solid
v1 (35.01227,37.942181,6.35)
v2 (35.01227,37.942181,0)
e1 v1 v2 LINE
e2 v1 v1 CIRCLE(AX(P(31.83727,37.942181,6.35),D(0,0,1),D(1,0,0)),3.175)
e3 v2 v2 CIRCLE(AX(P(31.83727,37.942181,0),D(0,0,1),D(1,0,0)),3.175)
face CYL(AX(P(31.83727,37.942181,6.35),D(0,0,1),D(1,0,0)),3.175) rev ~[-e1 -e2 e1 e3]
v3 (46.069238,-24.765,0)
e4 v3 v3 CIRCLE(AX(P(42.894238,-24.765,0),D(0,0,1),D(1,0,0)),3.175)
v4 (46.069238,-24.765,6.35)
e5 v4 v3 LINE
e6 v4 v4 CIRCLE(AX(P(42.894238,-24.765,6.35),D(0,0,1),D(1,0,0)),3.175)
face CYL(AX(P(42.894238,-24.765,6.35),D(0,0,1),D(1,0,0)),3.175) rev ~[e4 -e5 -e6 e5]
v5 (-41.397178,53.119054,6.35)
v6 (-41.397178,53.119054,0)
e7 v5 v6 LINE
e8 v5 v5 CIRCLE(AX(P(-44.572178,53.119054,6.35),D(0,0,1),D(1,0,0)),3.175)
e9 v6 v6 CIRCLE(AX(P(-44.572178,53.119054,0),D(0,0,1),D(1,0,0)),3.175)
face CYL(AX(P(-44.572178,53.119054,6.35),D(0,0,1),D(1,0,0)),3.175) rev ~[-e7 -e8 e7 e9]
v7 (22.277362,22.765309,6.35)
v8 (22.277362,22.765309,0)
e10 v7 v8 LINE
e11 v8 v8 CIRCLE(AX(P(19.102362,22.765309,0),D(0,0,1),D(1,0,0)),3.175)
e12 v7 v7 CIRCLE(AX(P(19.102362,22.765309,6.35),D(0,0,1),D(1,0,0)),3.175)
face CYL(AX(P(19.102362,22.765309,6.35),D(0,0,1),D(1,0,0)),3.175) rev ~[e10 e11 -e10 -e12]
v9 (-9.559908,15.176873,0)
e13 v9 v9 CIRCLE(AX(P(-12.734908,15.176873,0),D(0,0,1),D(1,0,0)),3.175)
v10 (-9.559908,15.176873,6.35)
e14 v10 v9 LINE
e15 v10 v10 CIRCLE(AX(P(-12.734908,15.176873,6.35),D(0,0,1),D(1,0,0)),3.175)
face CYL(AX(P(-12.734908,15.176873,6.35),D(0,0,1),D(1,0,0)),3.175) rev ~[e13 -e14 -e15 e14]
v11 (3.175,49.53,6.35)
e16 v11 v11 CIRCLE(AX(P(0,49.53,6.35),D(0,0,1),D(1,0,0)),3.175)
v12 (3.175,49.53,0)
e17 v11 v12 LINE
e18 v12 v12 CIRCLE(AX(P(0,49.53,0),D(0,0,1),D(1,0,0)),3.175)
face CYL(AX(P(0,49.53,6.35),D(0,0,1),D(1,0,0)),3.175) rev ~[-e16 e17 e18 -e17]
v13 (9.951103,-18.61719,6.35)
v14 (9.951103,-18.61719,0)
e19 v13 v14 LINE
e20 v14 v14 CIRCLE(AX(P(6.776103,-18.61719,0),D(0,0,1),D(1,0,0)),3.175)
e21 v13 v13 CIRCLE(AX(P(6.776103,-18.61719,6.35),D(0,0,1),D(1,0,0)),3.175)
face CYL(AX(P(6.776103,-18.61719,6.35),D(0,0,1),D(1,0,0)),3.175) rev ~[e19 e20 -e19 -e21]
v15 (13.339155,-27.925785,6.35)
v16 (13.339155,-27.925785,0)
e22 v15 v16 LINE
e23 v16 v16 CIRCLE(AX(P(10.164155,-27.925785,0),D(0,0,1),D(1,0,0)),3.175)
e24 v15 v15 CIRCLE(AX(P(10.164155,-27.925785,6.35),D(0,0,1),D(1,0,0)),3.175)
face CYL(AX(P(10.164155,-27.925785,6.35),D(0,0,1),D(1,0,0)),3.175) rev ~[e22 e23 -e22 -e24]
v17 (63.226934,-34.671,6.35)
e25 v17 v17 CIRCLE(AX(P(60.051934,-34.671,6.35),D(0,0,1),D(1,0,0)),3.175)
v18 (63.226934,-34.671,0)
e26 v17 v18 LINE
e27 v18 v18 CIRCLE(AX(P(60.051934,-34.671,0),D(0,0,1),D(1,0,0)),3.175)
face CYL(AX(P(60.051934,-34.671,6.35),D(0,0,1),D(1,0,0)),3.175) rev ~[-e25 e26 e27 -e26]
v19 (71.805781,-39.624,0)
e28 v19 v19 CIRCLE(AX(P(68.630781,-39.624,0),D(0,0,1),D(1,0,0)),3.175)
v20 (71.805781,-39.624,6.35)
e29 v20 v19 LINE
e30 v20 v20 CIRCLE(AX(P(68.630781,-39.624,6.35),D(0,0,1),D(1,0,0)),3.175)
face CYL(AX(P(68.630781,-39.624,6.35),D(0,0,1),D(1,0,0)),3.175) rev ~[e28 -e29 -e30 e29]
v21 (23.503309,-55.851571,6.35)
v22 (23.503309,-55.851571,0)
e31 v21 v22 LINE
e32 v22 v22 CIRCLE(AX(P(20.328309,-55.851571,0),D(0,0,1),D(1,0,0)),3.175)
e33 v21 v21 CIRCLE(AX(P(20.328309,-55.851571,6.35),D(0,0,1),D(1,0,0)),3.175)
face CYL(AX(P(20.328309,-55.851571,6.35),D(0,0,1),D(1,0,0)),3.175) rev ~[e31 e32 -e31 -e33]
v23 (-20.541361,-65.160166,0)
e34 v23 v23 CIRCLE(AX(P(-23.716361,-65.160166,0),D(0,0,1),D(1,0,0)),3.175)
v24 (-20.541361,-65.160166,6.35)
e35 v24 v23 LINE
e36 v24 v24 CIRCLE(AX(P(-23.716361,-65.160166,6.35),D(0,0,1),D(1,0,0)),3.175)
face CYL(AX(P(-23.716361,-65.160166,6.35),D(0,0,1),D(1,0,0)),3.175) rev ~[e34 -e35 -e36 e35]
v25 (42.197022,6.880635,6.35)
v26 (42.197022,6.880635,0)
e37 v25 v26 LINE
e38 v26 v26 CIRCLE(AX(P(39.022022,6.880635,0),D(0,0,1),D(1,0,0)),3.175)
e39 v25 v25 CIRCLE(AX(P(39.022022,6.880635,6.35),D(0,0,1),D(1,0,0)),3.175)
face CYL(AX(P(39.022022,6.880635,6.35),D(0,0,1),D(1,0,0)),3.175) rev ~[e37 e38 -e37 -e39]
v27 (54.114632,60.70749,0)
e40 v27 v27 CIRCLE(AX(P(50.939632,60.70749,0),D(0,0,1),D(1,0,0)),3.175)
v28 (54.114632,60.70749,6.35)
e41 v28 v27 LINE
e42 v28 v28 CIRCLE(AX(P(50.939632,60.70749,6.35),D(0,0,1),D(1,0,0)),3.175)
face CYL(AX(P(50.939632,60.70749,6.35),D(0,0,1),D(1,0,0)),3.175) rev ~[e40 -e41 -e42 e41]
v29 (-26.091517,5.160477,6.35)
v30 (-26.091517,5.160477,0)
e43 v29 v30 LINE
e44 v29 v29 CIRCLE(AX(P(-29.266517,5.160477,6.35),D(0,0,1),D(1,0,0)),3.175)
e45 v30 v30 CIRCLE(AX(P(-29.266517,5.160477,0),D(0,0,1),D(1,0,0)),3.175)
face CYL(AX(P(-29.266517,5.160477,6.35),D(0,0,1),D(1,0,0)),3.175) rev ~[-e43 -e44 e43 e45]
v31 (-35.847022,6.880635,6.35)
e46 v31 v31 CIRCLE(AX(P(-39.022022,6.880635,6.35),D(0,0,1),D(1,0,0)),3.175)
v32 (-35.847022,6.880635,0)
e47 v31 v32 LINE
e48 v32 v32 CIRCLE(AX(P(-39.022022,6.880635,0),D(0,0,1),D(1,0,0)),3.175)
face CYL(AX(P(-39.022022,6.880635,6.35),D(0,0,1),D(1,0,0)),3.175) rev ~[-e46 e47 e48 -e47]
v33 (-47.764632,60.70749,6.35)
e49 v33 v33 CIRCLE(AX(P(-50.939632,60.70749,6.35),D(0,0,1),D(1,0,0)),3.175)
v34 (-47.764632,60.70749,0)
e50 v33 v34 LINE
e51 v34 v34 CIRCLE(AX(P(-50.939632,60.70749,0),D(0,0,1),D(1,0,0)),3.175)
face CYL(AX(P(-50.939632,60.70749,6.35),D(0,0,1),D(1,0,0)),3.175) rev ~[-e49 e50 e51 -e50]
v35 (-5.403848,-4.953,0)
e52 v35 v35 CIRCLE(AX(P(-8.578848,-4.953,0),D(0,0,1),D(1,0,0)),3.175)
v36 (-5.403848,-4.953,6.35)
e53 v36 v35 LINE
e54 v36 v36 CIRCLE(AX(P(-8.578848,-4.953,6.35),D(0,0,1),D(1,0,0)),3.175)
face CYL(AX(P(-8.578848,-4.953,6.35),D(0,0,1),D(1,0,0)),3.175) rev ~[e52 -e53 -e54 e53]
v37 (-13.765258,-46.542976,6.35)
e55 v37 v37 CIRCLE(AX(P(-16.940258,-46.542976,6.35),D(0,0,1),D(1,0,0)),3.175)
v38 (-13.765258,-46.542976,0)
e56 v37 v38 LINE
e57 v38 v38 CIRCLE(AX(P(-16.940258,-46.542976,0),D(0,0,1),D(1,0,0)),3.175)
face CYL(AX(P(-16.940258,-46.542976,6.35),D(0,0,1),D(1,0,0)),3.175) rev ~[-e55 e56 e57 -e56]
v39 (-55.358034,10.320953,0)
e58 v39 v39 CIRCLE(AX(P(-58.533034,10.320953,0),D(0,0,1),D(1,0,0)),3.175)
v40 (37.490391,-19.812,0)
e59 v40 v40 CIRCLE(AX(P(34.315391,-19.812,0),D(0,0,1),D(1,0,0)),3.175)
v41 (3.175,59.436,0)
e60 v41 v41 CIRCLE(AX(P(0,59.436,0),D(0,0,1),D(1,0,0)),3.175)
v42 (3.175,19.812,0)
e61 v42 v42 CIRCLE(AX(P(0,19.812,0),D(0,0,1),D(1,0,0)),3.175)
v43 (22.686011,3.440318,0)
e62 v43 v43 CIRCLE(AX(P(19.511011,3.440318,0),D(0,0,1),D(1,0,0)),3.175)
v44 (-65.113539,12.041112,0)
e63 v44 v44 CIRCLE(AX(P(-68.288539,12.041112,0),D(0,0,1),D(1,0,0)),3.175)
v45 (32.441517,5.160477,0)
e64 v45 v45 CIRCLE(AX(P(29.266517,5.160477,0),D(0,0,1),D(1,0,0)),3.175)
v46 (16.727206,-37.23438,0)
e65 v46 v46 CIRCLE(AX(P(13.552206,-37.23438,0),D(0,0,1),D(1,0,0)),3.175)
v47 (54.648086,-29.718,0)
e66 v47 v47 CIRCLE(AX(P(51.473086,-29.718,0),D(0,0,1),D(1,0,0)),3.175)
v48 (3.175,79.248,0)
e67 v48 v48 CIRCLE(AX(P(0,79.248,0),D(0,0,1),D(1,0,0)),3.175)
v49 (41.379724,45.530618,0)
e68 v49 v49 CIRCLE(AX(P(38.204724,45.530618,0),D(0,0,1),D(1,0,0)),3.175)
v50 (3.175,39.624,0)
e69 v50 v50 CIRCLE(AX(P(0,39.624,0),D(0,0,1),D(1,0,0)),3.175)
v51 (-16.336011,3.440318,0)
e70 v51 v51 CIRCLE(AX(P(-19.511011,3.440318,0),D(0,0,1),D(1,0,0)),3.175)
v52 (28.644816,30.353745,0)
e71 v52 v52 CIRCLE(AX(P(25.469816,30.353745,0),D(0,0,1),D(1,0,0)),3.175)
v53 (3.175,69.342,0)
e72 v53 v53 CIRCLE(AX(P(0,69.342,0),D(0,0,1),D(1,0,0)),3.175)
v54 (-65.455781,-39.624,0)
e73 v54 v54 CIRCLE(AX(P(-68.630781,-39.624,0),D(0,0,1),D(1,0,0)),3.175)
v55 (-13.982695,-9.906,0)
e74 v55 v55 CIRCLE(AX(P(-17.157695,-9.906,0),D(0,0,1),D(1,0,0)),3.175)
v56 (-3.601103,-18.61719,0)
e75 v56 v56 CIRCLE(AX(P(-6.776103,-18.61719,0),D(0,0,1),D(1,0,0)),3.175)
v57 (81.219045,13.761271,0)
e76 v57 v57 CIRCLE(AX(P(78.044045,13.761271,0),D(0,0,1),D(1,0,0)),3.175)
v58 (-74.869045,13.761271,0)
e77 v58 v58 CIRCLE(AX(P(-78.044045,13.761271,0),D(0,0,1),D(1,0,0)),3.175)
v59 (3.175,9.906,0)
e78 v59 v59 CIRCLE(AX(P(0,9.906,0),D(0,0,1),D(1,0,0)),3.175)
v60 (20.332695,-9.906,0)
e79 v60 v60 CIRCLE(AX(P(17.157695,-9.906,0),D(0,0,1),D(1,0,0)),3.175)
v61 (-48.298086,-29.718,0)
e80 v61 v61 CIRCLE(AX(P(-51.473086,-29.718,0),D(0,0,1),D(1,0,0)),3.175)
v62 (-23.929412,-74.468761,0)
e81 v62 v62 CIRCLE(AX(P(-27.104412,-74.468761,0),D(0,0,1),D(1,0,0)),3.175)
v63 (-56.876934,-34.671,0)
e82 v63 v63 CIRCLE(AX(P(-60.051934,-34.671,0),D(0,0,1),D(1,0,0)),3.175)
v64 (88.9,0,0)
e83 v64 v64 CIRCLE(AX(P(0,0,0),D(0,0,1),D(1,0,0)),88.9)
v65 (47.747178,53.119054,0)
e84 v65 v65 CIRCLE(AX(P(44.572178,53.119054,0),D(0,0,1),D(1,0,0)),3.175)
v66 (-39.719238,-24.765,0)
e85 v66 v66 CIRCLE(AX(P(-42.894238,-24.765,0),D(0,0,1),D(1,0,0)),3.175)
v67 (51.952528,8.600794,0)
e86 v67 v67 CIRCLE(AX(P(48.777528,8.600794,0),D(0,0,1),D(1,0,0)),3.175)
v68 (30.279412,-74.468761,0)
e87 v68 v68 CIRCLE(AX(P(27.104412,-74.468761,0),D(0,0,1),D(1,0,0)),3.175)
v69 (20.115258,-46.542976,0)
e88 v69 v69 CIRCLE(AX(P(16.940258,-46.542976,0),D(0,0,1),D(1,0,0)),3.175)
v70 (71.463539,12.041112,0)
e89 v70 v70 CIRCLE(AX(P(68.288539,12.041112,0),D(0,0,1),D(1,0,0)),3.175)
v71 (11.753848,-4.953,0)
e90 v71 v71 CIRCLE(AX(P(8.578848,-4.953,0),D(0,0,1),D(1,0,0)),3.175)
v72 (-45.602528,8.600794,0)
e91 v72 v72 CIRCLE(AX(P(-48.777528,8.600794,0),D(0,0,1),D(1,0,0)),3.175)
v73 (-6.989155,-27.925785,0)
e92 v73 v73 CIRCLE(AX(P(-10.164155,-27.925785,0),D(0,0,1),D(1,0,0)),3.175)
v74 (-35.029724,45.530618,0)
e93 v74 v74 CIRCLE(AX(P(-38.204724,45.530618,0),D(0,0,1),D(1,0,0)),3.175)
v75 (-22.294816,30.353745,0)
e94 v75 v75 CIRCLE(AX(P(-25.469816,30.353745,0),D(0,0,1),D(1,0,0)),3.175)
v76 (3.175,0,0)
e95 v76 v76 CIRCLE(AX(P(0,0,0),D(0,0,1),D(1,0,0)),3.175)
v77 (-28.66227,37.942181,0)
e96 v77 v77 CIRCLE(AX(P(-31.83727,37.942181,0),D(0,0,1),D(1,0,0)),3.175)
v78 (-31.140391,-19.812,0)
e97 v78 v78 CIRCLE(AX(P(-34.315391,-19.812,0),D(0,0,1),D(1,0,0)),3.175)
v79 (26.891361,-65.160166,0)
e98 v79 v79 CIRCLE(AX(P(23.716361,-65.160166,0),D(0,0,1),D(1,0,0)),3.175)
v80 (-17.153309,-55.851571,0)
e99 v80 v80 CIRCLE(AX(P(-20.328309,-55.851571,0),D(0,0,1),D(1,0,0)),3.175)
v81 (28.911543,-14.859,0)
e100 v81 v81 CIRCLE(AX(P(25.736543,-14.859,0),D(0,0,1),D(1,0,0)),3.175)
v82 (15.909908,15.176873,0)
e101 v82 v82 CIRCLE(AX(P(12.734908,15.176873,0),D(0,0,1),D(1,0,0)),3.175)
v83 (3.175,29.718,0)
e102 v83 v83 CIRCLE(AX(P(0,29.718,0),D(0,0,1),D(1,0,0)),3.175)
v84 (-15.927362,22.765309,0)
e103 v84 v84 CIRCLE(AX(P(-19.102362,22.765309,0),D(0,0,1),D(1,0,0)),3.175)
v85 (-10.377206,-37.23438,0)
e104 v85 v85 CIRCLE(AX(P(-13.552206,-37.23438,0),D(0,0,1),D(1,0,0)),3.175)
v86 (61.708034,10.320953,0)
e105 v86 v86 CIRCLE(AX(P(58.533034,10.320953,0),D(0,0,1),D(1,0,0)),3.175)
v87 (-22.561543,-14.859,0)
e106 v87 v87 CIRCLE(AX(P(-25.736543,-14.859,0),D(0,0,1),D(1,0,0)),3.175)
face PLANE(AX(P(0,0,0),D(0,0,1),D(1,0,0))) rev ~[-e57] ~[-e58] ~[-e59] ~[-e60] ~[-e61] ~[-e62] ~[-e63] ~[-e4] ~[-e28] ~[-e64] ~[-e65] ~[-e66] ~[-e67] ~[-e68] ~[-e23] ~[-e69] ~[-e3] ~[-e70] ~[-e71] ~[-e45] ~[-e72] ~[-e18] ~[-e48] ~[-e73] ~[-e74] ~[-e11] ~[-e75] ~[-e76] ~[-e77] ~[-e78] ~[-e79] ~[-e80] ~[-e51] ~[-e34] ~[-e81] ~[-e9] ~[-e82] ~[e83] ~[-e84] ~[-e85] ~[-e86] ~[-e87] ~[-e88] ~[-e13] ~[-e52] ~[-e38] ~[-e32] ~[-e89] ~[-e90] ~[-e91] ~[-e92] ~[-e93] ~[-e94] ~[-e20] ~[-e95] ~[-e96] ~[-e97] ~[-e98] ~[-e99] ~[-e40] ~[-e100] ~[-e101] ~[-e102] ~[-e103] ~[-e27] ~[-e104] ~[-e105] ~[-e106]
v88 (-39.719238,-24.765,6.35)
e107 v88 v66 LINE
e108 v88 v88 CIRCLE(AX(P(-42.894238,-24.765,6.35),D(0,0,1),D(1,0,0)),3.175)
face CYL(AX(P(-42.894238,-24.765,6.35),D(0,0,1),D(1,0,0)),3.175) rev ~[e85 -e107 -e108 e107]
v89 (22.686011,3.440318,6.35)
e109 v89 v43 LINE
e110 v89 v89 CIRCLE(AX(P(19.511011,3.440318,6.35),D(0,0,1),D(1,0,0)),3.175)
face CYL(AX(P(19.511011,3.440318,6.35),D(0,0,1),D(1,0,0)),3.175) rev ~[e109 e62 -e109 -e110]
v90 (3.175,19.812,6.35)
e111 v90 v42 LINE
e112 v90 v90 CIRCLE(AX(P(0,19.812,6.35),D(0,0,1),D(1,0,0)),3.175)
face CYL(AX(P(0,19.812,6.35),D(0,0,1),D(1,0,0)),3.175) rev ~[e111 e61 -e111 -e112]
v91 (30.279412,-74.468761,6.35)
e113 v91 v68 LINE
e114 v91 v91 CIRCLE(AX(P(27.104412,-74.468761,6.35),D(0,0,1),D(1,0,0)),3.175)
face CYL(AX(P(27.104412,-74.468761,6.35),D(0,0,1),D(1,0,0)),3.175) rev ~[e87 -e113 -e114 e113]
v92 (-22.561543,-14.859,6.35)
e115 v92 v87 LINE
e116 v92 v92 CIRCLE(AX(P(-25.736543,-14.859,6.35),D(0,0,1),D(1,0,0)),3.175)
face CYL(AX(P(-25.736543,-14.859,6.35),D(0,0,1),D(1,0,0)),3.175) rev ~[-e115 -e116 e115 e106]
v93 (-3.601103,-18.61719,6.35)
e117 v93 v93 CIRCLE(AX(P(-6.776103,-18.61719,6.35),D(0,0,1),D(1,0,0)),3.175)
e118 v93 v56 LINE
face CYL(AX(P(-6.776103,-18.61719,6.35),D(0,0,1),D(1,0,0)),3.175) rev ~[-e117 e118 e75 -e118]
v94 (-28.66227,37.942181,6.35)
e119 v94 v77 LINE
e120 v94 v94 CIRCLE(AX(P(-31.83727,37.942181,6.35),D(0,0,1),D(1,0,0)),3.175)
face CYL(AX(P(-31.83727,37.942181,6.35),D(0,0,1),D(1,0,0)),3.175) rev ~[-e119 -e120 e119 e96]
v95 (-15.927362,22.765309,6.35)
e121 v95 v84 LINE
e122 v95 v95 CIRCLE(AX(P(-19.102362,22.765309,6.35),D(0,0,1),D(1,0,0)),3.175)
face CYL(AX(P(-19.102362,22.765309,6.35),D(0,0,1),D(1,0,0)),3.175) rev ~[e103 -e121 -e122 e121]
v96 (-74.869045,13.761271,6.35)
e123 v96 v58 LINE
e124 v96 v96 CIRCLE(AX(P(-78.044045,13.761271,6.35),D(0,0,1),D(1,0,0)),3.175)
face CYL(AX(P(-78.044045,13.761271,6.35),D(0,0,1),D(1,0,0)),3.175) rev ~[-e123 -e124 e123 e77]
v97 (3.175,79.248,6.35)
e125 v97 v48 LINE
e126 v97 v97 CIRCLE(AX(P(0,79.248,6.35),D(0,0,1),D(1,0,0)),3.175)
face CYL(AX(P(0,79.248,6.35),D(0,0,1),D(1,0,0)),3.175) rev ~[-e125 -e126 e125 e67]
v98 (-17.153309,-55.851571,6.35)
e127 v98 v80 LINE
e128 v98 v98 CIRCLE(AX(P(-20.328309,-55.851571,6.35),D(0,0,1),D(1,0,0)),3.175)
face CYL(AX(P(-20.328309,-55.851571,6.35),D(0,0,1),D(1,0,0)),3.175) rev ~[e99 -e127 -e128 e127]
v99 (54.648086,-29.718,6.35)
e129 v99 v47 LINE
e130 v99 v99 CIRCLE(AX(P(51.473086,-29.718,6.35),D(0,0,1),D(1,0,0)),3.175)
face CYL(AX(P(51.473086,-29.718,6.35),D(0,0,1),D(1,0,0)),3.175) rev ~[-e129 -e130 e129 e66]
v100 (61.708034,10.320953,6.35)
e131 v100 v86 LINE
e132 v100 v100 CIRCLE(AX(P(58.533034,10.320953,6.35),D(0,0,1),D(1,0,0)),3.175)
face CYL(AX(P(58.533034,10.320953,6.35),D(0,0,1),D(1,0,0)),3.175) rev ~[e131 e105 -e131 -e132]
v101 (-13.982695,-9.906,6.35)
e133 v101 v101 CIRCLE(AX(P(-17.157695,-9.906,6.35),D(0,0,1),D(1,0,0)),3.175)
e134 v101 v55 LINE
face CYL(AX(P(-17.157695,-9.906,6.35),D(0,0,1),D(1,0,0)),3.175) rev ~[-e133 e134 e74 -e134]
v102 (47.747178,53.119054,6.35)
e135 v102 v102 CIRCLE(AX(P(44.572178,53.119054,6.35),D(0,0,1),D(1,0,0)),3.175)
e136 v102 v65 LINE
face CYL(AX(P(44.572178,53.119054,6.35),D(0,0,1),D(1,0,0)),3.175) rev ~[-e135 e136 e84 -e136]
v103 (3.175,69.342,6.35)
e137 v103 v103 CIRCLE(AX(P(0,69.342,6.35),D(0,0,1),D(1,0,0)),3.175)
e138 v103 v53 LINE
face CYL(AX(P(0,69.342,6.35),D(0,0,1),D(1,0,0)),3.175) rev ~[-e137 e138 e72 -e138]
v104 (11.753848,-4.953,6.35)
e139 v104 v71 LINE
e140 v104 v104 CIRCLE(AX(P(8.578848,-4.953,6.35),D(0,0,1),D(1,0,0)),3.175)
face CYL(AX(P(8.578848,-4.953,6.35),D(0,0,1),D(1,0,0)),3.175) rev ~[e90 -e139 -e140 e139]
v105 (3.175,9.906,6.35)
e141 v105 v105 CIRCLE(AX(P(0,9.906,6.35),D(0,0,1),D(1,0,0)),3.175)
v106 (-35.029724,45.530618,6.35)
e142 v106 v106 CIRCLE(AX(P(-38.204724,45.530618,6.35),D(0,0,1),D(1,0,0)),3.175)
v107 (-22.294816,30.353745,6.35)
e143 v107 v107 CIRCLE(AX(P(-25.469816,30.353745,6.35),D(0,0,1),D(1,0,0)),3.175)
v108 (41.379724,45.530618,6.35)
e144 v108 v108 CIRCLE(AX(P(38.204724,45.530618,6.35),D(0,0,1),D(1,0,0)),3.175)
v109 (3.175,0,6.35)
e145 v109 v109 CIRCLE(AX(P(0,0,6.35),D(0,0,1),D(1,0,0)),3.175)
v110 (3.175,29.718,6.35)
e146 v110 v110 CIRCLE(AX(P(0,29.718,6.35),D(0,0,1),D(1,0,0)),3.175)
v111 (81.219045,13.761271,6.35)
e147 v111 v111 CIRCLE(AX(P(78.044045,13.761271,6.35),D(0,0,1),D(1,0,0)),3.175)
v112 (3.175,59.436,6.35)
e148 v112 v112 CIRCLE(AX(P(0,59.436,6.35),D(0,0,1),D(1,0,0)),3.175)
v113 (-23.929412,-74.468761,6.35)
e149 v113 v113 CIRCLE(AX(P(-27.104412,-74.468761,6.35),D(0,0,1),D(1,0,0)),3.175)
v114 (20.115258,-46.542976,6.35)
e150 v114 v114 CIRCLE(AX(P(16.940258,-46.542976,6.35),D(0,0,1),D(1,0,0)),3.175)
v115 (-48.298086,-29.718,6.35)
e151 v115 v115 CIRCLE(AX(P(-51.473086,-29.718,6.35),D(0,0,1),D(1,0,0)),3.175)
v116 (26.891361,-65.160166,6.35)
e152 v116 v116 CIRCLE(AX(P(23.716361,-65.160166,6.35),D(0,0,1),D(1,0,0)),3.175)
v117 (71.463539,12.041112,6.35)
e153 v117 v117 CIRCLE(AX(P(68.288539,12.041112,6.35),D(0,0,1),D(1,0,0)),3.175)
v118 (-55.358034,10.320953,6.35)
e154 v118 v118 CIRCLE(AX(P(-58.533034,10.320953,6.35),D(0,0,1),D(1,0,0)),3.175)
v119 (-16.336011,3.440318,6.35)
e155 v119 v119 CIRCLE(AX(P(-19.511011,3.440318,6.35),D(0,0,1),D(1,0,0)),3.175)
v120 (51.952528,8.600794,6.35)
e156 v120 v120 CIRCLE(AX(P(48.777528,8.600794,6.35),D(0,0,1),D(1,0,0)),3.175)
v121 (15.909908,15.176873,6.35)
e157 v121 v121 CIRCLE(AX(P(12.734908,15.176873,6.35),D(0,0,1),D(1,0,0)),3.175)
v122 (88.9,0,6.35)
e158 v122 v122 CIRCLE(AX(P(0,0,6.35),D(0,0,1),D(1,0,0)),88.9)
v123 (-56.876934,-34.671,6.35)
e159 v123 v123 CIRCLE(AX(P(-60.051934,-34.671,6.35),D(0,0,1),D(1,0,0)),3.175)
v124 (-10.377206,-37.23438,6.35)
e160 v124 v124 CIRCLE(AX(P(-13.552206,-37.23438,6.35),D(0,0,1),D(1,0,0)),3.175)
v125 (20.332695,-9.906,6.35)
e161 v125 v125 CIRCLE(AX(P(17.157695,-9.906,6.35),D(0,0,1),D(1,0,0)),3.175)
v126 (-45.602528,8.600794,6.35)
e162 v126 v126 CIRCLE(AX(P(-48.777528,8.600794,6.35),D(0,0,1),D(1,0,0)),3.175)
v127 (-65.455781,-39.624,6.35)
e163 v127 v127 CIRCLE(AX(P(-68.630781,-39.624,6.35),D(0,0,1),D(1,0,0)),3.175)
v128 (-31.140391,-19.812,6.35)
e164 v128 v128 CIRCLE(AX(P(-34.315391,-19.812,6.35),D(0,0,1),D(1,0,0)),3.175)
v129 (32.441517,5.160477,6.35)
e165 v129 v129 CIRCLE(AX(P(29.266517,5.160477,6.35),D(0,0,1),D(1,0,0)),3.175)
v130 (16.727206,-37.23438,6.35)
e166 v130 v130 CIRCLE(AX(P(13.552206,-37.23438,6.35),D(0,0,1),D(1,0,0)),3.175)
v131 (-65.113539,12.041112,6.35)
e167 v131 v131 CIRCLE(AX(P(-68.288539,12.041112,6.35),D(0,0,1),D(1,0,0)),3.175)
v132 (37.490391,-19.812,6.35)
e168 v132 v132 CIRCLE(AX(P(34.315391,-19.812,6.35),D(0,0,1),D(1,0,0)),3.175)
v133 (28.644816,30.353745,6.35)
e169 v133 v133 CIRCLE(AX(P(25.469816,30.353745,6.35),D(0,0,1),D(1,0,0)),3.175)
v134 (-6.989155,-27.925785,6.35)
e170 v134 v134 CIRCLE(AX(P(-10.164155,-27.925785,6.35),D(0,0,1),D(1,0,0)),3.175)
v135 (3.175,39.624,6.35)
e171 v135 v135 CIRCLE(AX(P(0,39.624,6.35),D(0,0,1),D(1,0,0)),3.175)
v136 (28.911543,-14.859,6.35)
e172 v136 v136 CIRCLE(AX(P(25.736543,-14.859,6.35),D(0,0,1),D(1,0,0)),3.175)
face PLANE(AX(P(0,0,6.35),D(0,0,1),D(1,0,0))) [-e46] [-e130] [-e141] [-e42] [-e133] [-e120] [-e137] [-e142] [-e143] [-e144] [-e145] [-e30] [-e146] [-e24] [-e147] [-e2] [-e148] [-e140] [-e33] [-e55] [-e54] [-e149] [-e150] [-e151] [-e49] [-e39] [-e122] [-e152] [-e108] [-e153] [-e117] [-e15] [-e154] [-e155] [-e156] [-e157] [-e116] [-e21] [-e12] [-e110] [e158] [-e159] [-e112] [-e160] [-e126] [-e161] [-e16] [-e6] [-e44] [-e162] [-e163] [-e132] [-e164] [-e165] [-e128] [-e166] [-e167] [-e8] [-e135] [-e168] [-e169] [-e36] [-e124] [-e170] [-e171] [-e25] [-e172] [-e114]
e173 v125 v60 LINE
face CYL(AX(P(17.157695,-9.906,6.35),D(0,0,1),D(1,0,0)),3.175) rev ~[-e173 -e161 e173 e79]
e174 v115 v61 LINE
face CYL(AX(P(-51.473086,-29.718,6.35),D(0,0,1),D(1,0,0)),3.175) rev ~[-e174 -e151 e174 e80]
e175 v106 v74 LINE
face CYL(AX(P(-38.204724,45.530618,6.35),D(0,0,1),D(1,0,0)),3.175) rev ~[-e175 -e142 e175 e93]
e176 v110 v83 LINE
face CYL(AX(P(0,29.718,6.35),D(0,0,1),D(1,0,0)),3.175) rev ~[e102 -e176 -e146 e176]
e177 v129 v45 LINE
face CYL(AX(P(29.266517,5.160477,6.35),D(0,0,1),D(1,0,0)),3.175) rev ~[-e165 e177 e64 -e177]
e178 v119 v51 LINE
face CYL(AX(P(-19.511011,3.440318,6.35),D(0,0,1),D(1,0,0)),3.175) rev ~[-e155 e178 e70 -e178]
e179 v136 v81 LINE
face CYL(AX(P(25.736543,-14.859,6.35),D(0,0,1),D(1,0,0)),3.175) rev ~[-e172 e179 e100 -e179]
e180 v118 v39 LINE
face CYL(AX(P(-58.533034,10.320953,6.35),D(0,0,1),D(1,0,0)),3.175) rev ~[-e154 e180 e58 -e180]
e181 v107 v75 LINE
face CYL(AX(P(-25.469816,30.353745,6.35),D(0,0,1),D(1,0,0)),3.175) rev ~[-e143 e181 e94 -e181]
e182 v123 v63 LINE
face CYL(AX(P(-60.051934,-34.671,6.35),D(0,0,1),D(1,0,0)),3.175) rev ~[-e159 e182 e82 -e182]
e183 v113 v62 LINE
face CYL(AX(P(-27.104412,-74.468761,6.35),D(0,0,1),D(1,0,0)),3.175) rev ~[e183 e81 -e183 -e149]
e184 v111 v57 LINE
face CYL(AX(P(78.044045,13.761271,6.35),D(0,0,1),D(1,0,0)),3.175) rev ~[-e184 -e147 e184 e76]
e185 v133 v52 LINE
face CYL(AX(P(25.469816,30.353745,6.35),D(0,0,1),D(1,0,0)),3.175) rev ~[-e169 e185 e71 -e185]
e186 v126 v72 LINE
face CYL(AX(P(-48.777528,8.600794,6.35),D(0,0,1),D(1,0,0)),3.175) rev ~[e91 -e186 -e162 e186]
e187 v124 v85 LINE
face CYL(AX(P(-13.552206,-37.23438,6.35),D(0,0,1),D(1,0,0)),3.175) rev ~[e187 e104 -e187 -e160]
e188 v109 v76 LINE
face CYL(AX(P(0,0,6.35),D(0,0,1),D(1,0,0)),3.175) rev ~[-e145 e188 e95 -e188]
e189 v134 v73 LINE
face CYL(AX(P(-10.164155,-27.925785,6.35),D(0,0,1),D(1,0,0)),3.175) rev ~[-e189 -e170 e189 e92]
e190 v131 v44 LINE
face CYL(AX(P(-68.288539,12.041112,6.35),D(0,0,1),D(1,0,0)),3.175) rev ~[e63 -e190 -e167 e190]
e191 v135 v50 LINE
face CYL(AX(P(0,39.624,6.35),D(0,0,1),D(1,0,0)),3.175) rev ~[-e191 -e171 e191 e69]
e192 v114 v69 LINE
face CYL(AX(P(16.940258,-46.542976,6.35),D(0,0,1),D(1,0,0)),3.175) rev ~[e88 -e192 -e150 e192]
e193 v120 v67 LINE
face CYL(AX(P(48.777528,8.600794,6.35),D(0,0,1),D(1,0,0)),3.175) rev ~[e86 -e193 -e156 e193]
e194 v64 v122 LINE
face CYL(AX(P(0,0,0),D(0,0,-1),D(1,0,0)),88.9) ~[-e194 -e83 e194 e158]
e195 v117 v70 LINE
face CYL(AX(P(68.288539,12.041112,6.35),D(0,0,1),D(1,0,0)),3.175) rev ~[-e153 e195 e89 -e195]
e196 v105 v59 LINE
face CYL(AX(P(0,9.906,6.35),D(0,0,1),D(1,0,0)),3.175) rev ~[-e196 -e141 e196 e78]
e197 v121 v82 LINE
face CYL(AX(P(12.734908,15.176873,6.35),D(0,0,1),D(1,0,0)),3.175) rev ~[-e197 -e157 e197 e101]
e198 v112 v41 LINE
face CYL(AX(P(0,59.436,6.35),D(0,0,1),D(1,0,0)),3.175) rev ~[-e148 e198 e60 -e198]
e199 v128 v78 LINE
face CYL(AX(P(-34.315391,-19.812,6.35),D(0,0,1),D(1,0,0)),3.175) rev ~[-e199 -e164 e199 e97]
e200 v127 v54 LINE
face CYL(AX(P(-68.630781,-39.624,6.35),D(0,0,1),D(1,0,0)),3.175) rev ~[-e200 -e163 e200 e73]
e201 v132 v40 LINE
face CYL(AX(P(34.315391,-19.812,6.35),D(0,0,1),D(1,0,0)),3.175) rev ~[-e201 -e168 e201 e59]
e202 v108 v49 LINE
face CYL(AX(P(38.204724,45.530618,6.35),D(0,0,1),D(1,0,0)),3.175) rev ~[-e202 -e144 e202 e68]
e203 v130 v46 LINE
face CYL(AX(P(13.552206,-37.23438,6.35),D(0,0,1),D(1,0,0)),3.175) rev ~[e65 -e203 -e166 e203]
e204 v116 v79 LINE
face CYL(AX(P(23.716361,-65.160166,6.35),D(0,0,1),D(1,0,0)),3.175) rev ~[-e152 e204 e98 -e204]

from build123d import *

# Parameters (mm, degrees)
F0_R     = 88.9
F1_DEPTH = 6.35
F2_R     = 3.175
F3_DEPTH = 6.351


with BuildPart() as f1:
    # F0 (on Top) → F1 (new body)
    with BuildSketch(Plane.XY):
        Circle(F0_R)
    extrude(amount=F1_DEPTH)

    # F2 (on face) → F3 (cut, through all)
    with BuildSketch(Plane.XY.offset(6.35)):
        Circle(F2_R)
        with Locations((0, 9.906)):
            Circle(F2_R)
        with Locations((0, 19.812)):
            Circle(F2_R)
        with Locations((0, 29.718)):
            Circle(F2_R)
        with Locations((0, 39.624)):
            Circle(F2_R)
        with Locations((0, 49.53)):
            Circle(F2_R)
        with Locations((0, 59.436)):
            Circle(F2_R)
        with Locations((0, 69.342)):
            Circle(F2_R)
        with Locations((185.832307, 80.557868)):
            Circle(F2_R)
        with Locations((0, 79.248)):
            Circle(F2_R)
        with Locations((-68.630781, -39.624)):
            Circle(F2_R)
        with Locations((-60.051934, -34.671)):
            Circle(F2_R)
        with Locations((-51.473086, -29.718)):
            Circle(F2_R)
        with Locations((-42.894238, -24.765)):
            Circle(F2_R)
        with Locations((-34.315391, -19.812)):
            Circle(F2_R)
        with Locations((-25.736543, -14.859)):
            Circle(F2_R)
        with Locations((-17.157695, -9.906)):
            Circle(F2_R)
        with Locations((-8.578848, -4.953)):
            Circle(F2_R)
        with Locations((68.630781, -39.624)):
            Circle(F2_R)
        with Locations((60.051934, -34.671)):
            Circle(F2_R)
        with Locations((51.473086, -29.718)):
            Circle(F2_R)
        with Locations((42.894238, -24.765)):
            Circle(F2_R)
        with Locations((34.315391, -19.812)):
            Circle(F2_R)
        with Locations((25.736543, -14.859)):
            Circle(F2_R)
        with Locations((17.157695, -9.906)):
            Circle(F2_R)
        with Locations((8.578848, -4.953)):
            Circle(F2_R)
        with Locations((-6.776103, -18.61719)):
            Circle(F2_R)
        with Locations((-10.164155, -27.925785)):
            Circle(F2_R)
        with Locations((-13.552206, -37.23438)):
            Circle(F2_R)
        with Locations((-16.940258, -46.542976)):
            Circle(F2_R)
        with Locations((-20.328309, -55.851571)):
            Circle(F2_R)
        with Locations((-23.716361, -65.160166)):
            Circle(F2_R)
        with Locations((-27.104412, -74.468761)):
            Circle(F2_R)
        with Locations((-12.734908, 15.176873)):
            Circle(F2_R)
        with Locations((-19.102362, 22.765309)):
            Circle(F2_R)
        with Locations((-25.469816, 30.353745)):
            Circle(F2_R)
        with Locations((-31.83727, 37.942181)):
            Circle(F2_R)
        with Locations((-38.204724, 45.530618)):
            Circle(F2_R)
        with Locations((-44.572178, 53.119054)):
            Circle(F2_R)
        with Locations((-50.939632, 60.70749)):
            Circle(F2_R)
        with Locations((19.511011, 3.440318)):
            Circle(F2_R)
        with Locations((29.266517, 5.160477)):
            Circle(F2_R)
        with Locations((39.022022, 6.880635)):
            Circle(F2_R)
        with Locations((48.777528, 8.600794)):
            Circle(F2_R)
        with Locations((58.533034, 10.320953)):
            Circle(F2_R)
        with Locations((68.288539, 12.041112)):
            Circle(F2_R)
        with Locations((78.044045, 13.761271)):
            Circle(F2_R)
        with Locations((-19.511011, 3.440318)):
            Circle(F2_R)
        with Locations((-29.266517, 5.160477)):
            Circle(F2_R)
        with Locations((-39.022022, 6.880635)):
            Circle(F2_R)
        with Locations((-48.777528, 8.600794)):
            Circle(F2_R)
        with Locations((-58.533034, 10.320953)):
            Circle(F2_R)
        with Locations((-68.288539, 12.041112)):
            Circle(F2_R)
        with Locations((-78.044045, 13.761271)):
            Circle(F2_R)
        with Locations((12.734908, 15.176873)):
            Circle(F2_R)
        with Locations((19.102362, 22.765309)):
            Circle(F2_R)
        with Locations((25.469816, 30.353745)):
            Circle(F2_R)
        with Locations((31.83727, 37.942181)):
            Circle(F2_R)
        with Locations((38.204724, 45.530618)):
            Circle(F2_R)
        with Locations((44.572178, 53.119054)):
            Circle(F2_R)
        with Locations((50.939632, 60.70749)):
            Circle(F2_R)
        with Locations((6.776103, -18.61719)):
            Circle(F2_R)
        with Locations((10.164155, -27.925785)):
            Circle(F2_R)
        with Locations((13.552206, -37.23438)):
            Circle(F2_R)
        with Locations((16.940258, -46.542976)):
            Circle(F2_R)
        with Locations((20.328309, -55.851571)):
            Circle(F2_R)
        with Locations((23.716361, -65.160166)):
            Circle(F2_R)
        with Locations((27.104412, -74.468761)):
            Circle(F2_R)
    extrude(amount=-F3_DEPTH, mode=Mode.SUBTRACT)


solid = f1.part
